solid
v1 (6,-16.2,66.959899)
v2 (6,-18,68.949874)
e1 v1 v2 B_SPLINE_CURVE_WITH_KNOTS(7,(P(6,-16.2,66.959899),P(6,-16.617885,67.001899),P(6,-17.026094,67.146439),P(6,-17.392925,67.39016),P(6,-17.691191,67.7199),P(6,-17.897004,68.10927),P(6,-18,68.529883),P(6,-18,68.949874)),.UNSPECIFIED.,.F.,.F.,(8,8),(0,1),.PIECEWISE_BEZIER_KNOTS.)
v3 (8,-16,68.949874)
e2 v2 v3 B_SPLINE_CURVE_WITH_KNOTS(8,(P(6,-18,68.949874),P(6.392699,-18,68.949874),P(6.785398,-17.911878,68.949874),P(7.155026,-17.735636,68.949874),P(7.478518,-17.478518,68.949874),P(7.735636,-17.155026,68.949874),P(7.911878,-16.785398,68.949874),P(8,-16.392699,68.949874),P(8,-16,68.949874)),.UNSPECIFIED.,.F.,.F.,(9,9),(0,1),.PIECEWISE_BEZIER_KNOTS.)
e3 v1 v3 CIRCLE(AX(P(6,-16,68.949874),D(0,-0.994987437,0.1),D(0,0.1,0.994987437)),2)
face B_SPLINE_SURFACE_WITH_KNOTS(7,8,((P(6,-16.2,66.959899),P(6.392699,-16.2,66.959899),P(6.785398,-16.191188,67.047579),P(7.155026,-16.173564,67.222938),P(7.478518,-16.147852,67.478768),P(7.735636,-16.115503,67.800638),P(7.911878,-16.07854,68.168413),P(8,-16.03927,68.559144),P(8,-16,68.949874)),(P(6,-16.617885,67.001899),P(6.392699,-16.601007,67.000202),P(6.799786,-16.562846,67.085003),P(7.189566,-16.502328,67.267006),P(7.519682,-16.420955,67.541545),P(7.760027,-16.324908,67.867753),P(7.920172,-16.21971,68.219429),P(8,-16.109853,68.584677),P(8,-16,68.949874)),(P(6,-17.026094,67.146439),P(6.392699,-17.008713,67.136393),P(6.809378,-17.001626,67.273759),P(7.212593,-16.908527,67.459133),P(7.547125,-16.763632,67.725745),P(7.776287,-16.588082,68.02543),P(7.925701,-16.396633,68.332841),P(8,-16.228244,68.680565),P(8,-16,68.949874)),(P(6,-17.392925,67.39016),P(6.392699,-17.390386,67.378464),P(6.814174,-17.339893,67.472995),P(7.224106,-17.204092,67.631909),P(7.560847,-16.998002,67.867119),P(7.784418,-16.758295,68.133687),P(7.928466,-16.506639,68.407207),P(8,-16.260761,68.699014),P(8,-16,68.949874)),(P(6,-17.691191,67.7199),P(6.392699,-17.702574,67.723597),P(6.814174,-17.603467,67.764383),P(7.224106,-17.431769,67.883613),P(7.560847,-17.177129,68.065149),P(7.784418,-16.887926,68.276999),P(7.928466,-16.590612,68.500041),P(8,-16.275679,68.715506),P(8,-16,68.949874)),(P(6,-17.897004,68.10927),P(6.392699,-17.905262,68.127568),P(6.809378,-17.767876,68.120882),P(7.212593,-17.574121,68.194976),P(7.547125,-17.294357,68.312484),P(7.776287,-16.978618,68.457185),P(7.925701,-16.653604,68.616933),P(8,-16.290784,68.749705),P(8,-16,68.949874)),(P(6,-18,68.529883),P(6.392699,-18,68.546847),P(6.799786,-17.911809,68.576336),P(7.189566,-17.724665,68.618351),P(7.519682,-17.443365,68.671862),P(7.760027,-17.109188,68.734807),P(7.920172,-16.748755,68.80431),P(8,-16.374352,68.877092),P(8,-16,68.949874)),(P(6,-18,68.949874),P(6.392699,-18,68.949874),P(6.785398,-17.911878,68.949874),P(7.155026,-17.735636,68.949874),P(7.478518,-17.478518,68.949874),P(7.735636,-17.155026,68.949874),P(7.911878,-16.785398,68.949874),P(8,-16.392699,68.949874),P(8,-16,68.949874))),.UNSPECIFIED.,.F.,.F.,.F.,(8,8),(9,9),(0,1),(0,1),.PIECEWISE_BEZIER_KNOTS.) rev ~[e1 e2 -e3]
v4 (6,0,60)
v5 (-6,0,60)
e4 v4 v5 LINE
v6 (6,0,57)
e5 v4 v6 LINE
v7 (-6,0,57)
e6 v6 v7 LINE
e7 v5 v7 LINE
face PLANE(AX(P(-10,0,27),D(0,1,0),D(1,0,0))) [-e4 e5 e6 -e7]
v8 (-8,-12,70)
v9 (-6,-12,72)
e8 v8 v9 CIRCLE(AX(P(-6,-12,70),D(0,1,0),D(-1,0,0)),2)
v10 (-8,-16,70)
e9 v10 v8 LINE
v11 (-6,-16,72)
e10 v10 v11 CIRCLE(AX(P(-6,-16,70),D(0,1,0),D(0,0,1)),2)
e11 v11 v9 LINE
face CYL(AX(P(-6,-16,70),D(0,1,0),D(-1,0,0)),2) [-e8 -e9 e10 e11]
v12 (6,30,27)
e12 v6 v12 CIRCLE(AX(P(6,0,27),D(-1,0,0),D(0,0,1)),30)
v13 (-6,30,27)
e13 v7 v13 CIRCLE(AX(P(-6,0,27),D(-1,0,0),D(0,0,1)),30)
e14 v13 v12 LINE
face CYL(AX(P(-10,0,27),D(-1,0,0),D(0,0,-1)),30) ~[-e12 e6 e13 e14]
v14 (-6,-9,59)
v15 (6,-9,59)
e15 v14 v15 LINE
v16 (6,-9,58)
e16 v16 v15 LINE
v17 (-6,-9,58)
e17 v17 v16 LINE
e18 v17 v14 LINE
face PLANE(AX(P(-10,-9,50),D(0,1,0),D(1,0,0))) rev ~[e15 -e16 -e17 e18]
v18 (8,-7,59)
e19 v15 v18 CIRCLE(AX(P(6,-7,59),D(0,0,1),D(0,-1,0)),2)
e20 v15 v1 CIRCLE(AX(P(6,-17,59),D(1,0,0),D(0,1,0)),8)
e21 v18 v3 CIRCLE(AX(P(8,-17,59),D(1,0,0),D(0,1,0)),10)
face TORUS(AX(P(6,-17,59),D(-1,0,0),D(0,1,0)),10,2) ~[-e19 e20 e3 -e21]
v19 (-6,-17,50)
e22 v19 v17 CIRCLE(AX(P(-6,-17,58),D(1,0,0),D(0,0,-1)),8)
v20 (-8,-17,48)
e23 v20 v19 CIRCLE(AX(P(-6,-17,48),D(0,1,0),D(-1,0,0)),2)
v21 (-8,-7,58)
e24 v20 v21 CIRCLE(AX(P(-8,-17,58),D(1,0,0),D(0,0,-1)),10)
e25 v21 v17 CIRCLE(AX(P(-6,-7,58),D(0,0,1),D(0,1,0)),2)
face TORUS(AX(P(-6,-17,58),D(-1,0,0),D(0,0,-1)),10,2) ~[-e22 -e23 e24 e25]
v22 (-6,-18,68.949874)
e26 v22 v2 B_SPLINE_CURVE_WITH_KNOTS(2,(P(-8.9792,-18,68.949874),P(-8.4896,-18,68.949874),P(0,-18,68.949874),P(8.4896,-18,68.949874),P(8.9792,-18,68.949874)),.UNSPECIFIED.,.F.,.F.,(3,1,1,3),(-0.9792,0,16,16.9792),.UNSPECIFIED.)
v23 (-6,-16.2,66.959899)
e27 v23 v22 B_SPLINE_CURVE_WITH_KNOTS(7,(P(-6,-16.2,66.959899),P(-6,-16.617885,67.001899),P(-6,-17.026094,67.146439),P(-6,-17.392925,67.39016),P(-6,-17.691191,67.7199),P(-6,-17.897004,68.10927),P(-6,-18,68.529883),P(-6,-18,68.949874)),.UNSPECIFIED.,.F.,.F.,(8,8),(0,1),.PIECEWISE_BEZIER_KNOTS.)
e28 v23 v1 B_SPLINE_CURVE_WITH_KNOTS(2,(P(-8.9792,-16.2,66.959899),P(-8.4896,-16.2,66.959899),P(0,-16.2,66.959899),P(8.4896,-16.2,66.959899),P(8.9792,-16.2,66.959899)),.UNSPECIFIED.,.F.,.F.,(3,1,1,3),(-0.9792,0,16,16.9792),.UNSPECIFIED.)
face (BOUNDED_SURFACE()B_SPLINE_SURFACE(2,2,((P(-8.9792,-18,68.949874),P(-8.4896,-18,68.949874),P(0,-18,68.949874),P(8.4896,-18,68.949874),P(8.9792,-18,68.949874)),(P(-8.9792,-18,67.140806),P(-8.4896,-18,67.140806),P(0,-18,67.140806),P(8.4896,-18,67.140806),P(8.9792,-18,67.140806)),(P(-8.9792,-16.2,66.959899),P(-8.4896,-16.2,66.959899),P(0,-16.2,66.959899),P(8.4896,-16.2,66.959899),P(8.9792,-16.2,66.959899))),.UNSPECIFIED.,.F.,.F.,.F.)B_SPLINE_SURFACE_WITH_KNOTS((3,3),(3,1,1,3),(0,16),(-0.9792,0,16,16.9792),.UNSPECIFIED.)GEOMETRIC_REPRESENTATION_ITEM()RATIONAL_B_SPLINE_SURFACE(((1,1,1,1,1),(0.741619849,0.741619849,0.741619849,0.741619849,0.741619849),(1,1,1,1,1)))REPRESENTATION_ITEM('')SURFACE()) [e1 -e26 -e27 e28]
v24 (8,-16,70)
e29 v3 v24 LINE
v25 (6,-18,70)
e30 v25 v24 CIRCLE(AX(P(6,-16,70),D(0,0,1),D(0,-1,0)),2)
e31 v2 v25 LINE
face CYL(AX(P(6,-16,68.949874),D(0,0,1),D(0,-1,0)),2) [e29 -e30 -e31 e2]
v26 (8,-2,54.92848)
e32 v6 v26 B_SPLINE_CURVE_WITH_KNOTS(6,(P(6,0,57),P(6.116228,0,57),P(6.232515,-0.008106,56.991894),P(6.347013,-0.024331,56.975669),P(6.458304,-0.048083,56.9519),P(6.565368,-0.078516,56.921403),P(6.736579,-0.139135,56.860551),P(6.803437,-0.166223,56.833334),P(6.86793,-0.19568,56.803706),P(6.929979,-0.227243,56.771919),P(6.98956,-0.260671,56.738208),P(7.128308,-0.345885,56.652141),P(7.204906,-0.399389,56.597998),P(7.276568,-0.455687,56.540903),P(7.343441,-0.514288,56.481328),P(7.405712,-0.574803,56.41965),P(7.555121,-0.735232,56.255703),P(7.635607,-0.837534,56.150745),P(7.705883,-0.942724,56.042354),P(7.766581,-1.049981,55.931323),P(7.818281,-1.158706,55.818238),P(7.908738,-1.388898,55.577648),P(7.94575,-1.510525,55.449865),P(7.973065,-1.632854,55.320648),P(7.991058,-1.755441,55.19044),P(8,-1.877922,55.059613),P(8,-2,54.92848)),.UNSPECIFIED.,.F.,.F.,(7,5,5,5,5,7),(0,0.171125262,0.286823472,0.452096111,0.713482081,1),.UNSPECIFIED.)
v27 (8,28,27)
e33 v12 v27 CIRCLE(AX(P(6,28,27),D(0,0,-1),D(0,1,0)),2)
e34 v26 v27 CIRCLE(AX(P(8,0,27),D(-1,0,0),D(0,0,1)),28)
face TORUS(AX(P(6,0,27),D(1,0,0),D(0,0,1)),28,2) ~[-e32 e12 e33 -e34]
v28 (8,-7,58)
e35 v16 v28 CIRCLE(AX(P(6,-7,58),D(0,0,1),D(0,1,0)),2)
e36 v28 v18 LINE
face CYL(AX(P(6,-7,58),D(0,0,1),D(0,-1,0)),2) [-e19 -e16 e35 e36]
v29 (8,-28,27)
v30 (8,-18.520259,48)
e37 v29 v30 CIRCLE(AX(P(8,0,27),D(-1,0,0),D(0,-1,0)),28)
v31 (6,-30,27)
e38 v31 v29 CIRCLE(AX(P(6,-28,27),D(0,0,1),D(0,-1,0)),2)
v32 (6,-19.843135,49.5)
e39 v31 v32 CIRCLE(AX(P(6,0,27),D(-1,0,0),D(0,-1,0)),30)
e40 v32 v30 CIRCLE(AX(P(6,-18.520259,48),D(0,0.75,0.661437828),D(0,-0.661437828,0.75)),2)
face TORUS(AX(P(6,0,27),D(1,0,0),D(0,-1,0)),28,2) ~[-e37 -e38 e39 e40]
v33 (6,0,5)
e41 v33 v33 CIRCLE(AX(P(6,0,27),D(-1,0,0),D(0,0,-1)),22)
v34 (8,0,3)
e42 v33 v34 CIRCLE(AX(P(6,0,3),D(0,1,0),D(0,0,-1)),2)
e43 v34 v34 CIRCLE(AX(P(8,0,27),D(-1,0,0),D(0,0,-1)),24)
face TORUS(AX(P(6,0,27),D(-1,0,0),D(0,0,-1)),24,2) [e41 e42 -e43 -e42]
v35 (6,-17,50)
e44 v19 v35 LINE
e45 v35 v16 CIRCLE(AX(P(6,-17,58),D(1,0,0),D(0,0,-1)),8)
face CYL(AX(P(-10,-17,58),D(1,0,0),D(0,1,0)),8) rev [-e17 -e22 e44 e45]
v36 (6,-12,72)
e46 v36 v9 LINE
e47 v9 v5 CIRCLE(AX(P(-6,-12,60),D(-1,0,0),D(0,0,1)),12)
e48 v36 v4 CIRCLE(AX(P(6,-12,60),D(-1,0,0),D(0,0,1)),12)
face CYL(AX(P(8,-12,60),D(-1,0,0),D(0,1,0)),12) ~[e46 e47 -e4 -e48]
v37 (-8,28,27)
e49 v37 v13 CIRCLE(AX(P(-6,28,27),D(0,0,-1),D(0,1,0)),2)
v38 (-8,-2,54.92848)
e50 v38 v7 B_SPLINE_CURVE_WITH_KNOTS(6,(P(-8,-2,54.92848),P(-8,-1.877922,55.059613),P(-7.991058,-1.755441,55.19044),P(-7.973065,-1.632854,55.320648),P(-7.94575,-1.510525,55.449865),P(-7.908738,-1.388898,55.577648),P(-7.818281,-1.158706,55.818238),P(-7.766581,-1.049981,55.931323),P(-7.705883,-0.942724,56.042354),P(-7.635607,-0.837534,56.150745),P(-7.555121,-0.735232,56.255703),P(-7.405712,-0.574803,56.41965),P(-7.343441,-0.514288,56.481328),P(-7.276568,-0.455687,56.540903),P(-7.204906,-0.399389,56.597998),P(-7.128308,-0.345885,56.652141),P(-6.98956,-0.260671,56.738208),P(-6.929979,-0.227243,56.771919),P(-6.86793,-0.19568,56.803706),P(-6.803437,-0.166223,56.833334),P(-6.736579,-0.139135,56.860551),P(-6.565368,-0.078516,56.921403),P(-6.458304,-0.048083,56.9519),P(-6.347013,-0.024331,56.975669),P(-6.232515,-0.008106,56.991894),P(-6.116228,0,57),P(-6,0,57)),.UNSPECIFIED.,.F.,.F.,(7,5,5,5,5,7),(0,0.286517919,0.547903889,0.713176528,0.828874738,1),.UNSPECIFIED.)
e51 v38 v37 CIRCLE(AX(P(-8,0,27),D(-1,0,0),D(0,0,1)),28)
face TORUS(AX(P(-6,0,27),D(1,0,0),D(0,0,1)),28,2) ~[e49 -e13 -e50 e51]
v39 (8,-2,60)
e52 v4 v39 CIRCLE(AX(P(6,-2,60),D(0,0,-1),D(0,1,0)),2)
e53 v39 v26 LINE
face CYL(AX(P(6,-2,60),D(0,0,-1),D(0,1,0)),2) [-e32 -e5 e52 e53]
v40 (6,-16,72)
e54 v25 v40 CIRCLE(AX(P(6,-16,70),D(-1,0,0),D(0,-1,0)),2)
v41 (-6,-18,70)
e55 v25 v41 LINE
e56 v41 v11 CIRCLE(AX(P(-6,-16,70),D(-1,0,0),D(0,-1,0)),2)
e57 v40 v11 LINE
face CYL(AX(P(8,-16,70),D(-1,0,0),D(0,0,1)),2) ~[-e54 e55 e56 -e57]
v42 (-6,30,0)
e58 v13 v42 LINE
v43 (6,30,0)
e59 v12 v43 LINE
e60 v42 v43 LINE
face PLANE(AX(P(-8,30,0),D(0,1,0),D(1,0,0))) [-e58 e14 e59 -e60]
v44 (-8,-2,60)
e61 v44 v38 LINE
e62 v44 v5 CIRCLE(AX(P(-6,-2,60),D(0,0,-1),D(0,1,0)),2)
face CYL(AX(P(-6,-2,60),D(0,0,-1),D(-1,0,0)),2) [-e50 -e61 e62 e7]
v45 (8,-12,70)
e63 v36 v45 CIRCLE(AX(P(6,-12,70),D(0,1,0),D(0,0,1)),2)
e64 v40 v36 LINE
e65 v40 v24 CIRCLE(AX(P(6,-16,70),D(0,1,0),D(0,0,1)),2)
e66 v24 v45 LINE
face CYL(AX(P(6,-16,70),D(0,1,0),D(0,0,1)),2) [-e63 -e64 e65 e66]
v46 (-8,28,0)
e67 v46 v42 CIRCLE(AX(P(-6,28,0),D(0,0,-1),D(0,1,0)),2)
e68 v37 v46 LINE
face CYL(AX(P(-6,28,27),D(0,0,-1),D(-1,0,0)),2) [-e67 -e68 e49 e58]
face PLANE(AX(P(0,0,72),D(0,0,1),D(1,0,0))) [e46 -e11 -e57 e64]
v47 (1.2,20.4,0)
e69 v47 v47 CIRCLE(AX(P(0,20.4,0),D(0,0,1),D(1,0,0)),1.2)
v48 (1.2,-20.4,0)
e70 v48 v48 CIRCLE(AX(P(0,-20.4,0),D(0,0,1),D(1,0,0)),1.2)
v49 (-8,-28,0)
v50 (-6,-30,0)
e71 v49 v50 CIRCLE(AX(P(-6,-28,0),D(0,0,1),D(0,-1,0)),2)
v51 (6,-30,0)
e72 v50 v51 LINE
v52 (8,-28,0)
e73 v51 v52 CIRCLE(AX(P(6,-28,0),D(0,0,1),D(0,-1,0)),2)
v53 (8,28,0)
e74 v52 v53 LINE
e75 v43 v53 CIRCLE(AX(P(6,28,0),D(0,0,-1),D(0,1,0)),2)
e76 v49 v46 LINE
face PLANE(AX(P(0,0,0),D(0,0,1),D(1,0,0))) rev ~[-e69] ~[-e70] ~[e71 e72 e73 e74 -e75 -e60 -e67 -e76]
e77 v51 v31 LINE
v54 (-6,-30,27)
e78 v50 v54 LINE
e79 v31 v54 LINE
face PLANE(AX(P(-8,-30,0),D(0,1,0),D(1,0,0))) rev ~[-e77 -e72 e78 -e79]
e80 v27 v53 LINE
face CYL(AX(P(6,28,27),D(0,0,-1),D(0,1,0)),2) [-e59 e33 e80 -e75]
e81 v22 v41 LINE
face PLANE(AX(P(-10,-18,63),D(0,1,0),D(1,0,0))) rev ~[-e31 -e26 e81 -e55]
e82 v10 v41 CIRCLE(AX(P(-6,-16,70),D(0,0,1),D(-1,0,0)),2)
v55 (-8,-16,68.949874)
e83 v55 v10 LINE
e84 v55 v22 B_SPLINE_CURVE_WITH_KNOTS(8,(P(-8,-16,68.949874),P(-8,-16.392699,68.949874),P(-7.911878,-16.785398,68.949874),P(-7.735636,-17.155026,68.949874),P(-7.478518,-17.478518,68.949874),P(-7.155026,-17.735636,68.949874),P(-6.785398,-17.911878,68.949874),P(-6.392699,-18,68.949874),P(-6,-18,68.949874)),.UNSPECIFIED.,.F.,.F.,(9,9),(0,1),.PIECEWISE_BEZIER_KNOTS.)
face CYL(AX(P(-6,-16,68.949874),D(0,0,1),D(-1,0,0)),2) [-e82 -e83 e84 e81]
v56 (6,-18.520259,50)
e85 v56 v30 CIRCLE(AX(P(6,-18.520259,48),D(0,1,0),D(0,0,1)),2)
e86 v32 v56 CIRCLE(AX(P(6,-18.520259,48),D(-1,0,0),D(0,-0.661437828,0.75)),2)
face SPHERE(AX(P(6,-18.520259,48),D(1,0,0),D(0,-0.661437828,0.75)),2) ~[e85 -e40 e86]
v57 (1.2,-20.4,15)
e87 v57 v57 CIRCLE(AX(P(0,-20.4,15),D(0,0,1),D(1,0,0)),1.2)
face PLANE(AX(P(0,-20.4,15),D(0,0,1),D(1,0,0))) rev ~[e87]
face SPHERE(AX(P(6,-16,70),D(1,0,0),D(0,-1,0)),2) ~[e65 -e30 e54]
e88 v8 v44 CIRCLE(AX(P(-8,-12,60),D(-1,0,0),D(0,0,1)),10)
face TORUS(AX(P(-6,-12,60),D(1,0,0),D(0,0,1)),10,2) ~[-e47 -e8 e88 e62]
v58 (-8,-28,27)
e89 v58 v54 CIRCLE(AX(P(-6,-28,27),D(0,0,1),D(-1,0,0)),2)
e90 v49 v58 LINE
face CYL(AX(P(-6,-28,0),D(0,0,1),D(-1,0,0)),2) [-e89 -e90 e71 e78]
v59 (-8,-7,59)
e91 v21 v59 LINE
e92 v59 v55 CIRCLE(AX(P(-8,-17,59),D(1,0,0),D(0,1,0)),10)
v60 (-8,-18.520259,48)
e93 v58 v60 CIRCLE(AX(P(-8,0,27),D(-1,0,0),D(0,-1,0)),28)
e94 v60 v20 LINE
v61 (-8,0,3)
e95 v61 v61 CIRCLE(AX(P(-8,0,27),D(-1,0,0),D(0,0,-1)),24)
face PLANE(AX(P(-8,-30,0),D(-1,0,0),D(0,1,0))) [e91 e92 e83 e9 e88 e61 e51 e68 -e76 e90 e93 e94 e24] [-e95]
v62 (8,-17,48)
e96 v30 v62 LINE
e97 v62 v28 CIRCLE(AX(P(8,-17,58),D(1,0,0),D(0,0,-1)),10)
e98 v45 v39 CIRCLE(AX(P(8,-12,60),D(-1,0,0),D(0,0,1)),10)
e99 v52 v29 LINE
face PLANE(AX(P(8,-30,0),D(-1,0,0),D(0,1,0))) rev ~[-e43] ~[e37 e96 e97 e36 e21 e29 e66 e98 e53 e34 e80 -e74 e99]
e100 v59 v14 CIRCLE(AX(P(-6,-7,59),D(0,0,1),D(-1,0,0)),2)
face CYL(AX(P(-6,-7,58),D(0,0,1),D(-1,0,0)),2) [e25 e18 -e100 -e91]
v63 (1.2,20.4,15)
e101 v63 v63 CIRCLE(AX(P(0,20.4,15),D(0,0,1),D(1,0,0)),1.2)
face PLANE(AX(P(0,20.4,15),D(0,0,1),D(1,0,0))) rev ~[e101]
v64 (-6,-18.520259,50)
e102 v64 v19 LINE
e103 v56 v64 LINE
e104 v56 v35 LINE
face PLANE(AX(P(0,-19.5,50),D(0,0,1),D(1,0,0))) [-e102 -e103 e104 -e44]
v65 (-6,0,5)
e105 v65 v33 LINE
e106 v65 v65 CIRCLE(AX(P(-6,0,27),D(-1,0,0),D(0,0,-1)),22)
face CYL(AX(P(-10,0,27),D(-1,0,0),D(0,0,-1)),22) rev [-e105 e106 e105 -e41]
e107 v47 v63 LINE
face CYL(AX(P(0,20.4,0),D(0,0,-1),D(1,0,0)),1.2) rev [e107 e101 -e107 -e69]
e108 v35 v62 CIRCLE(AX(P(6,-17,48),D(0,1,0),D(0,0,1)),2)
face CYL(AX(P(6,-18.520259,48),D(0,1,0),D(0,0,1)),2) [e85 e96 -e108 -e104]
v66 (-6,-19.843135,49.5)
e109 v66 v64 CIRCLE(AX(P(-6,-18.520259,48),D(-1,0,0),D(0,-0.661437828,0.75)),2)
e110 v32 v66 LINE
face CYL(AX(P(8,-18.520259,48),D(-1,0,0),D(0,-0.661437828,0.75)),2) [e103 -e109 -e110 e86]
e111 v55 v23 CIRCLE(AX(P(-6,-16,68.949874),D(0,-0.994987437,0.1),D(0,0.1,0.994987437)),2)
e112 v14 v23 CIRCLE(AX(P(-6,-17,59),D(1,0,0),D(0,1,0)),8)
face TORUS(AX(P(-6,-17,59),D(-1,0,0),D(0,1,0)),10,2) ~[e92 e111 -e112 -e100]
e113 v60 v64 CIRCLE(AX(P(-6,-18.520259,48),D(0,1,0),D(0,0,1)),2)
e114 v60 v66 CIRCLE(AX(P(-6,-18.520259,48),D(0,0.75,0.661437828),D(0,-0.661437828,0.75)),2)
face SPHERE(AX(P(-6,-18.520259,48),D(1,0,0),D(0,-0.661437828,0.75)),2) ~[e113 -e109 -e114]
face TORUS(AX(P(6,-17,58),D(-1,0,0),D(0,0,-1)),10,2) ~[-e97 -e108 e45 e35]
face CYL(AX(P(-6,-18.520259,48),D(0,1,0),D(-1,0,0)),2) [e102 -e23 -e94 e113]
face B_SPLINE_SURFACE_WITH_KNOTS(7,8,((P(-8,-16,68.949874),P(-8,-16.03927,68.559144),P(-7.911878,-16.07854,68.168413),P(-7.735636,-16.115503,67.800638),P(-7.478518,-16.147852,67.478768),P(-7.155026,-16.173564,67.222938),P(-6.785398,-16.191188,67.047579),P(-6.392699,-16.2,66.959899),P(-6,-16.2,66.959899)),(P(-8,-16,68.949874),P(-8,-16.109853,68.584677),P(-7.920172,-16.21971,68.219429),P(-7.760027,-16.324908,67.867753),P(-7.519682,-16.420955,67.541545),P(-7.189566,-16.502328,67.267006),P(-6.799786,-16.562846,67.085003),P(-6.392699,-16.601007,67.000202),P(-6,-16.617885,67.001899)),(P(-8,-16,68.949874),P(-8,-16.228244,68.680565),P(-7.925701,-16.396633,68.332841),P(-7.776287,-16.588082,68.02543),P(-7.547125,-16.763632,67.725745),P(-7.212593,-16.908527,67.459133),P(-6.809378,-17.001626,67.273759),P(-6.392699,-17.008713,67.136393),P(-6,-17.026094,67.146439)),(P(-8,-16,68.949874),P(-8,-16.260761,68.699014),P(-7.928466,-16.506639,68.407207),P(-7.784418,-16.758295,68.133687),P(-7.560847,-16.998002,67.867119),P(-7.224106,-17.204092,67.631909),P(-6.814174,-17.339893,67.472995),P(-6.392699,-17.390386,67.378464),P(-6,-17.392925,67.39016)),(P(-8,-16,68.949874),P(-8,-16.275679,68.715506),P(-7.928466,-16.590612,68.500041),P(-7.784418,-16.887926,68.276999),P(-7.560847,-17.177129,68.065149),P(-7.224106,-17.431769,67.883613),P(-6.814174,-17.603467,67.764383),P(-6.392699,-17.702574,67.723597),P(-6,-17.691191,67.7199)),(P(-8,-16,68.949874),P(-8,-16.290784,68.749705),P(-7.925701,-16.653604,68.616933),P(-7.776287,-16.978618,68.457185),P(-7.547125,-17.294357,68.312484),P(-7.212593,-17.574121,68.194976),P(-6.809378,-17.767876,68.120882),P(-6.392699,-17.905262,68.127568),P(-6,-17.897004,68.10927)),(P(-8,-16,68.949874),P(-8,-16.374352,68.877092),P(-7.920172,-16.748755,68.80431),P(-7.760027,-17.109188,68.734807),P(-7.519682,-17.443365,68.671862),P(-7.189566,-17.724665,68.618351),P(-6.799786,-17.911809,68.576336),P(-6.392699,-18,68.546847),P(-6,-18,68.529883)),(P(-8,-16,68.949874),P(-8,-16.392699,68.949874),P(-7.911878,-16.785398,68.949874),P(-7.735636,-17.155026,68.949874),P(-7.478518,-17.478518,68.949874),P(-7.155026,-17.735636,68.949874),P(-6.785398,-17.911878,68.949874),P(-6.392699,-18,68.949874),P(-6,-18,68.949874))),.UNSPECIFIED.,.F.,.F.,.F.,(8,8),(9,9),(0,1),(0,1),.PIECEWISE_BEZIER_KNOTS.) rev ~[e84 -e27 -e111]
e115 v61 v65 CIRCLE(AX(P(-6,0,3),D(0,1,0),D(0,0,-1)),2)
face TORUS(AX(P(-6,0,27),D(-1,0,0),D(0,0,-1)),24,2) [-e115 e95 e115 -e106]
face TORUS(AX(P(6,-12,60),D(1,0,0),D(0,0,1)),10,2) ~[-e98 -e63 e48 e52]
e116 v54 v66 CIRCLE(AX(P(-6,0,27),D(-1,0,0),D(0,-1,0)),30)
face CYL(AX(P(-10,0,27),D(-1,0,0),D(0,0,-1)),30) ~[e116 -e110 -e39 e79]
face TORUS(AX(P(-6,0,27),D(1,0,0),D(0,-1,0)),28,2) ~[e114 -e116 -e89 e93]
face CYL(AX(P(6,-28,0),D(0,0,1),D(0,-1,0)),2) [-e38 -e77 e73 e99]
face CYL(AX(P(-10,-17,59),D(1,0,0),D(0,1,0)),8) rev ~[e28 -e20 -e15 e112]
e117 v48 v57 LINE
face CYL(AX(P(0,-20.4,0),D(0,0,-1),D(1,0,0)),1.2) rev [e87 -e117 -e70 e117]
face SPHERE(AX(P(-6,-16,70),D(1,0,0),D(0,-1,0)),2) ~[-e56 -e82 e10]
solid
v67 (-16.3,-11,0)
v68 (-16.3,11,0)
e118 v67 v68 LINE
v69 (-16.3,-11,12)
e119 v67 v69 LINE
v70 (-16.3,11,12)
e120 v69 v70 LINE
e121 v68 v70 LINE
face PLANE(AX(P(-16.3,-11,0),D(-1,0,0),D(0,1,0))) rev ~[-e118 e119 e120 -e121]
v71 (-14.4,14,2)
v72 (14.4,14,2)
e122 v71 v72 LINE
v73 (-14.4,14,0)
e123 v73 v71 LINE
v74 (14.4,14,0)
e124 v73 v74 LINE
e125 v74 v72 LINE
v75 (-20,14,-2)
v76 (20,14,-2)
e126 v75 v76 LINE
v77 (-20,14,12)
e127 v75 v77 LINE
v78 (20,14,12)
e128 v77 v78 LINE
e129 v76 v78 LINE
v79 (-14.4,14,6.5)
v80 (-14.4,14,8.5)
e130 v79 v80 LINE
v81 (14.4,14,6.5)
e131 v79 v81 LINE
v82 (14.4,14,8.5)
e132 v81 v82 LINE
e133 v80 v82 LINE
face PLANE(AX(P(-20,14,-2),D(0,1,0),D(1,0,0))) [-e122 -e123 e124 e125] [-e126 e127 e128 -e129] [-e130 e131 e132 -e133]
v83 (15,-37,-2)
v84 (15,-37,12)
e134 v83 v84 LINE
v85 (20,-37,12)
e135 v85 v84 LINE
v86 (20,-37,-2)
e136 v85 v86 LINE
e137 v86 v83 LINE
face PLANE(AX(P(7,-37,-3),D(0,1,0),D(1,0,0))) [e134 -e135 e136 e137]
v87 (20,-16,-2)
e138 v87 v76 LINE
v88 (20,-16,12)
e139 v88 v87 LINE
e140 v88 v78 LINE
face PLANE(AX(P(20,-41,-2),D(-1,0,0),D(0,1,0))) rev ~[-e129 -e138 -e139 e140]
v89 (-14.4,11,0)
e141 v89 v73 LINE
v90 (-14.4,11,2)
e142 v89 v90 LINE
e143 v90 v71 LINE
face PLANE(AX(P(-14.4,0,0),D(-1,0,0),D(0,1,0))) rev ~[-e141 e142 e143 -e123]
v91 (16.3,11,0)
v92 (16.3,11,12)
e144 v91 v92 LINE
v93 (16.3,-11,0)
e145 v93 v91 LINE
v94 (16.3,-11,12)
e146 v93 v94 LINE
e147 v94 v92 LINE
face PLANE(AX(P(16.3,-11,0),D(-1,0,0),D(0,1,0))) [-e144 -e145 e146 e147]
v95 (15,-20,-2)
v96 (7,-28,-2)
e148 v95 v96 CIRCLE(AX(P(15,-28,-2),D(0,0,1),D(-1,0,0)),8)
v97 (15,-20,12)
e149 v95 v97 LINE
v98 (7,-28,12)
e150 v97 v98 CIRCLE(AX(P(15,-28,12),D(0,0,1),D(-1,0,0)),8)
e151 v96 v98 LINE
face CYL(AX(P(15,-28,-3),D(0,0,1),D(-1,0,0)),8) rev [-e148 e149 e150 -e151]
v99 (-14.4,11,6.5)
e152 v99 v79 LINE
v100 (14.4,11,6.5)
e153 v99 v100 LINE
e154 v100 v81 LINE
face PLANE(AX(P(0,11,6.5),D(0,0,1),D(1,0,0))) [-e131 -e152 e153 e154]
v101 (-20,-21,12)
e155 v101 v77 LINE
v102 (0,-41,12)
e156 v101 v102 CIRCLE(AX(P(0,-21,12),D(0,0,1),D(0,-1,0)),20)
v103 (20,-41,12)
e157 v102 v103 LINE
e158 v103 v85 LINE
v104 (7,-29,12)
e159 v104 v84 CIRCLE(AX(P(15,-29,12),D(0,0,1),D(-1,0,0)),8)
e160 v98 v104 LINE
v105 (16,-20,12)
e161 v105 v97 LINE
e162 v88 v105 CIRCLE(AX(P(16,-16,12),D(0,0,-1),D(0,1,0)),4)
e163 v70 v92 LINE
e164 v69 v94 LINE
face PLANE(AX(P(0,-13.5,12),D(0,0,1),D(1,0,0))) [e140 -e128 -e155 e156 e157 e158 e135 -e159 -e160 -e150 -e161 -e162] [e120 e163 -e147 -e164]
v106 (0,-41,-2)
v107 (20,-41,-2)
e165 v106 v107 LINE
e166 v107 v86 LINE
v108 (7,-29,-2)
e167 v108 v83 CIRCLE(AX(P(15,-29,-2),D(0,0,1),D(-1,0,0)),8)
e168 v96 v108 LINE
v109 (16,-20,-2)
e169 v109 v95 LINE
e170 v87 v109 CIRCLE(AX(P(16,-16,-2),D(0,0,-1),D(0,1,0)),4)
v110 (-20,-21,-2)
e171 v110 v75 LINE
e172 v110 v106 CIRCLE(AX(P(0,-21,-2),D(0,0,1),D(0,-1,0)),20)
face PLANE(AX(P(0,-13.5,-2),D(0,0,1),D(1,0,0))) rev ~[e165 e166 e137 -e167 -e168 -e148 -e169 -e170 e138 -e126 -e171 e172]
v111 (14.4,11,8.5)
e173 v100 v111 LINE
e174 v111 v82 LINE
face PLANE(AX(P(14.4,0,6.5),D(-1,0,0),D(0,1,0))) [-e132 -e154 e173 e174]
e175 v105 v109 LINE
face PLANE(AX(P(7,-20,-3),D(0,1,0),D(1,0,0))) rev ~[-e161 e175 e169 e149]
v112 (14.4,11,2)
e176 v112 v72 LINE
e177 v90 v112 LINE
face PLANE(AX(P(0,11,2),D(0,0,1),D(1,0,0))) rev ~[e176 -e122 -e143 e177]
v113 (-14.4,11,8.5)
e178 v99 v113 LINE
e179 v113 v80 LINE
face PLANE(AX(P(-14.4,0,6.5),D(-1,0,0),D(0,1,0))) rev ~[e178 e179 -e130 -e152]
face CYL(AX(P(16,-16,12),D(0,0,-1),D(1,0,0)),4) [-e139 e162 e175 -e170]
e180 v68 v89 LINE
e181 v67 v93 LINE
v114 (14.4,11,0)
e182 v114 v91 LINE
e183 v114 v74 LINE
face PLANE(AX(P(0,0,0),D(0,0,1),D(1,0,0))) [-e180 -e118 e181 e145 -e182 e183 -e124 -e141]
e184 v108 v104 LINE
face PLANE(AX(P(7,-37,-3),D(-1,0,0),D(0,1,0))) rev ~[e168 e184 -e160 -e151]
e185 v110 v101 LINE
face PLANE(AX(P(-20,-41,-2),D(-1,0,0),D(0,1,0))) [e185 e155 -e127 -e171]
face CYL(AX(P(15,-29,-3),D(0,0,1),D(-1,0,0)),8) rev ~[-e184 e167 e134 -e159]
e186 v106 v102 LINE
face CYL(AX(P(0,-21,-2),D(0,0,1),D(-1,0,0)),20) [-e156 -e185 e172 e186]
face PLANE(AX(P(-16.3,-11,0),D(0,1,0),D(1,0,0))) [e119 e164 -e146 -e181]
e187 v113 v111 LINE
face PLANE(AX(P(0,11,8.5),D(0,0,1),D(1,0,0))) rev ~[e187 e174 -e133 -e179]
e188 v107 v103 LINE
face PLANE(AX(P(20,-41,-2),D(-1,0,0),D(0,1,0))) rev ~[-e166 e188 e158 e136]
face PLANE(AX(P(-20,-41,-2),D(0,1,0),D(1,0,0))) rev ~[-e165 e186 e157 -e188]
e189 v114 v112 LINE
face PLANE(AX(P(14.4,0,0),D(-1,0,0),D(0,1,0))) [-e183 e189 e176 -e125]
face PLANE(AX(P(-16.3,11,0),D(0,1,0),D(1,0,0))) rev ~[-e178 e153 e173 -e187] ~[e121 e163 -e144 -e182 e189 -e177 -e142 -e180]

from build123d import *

# Parameters (mm, degrees)
BOX005_W          = 28.8
BOX005_H          = 22
BOX005_DEPTH      = 2
BOX006_W          = 28.8
BOX006_H          = 22
BOX006_DEPTH      = 2
BOX004_W          = 32.6
BOX004_H          = 22
BOX004_DEPTH      = 12
BOX_W             = 20
BOX_H             = 17
BOX_DEPTH         = 20
FILLET_R          = 8
BOX007_W          = 40
BOX007_H          = 55
BOX007_DEPTH      = 14
FILLET001_R       = 20
FILLET002_R       = 4
CYLINDER004_R     = 30
CYLINDER004_DEPTH = 20
BOX014_W          = 20
BOX014_H          = 30
BOX014_DEPTH      = 50
CYLINDER002_R     = 22
CYLINDER002_DEPTH = 20
CYLINDER001_R     = 1.2
CYLINDER001_DEPTH = 15
CYLINDER_R        = 1.2
CYLINDER_DEPTH    = 15
BOX012_W          = 20
BOX012_H          = 12
BOX012_DEPTH      = 10
BOX011_W          = 20
BOX011_H          = 21
BOX011_DEPTH      = 17
FILLET004_R       = 8
CYLINDER003_R     = 30
CYLINDER003_DEPTH = 20
BOX013_W          = 20
BOX013_H          = 20
BOX013_DEPTH      = 30
BOX010_W          = 16
BOX010_H          = 60
BOX010_DEPTH      = 72
FILLET005_R       = 12
FILLET006_R       = 2
FILLET007_R       = 2
FILLET008_R       = 2


with BuildPart() as cube005:
    # Box005 → Box005 (new body)
    with BuildSketch(Plane(origin=(-14.4, 0, 0), x_dir=(1, 0, 0), z_dir=(0, 0, 1))):
        with Locations((14.4, 11)):
            Rectangle(BOX005_W, BOX005_H)
    extrude(amount=BOX005_DEPTH)


with BuildPart() as cube006:
    # Box006 → Box006 (new body)
    with BuildSketch(Plane(origin=(-14.4, 0, 6.5), x_dir=(1, 0, 0), z_dir=(0, 0, 1))):
        with Locations((14.4, 11)):
            Rectangle(BOX006_W, BOX006_H)
    extrude(amount=BOX006_DEPTH)


with BuildPart() as hollows:
    # Box004 → Box004 (new body)
    with BuildSketch(Plane(origin=(-16.3, -11, 0), x_dir=(1, 0, 0), z_dir=(0, 0, 1))):
        with Locations((16.3, 11)):
            Rectangle(BOX004_W, BOX004_H)
    extrude(amount=BOX004_DEPTH)

    # Fusion: union Cube005, Cube006
    add(cube005.part)
    add(cube006.part)


with BuildPart() as fusion001:
    # Box → Box (new body)
    with BuildSketch(Plane(origin=(7, -37, -3), x_dir=(1, 0, 0), z_dir=(0, 0, 1))):
        with Locations((10, 8.5)):
            Rectangle(BOX_W, BOX_H)
    extrude(amount=BOX_DEPTH)

    # Fillet
    fillet_edges = [fusion001.edges().sort_by_distance(p)[0] for p in [
        (7, -37, 7),
        (7, -20, 7),
    ]]
    fillet(fillet_edges, radius=FILLET_R)

    # Fusion001: union Hollows
    add(hollows.part)


with BuildPart() as starakuka:
    # Box007 → Box007 (new body)
    with BuildSketch(Plane(origin=(-20, -41, -2), x_dir=(1, 0, 0), z_dir=(0, 0, 1))):
        with Locations((20, 27.5)):
            Rectangle(BOX007_W, BOX007_H)
    extrude(amount=BOX007_DEPTH)

    # Fillet001
    fillet001_edges = [starakuka.edges().sort_by_distance(p)[0] for p in [
        (-20, -41, 5),
    ]]
    fillet(fillet001_edges, radius=FILLET001_R)

    # Cut: cut Fusion001
    add(fusion001.part, mode=Mode.SUBTRACT)

    # Fillet002
    fillet002_edges = [starakuka.edges().sort_by_distance(p)[0] for p in [
        (20, -20, 5),
    ]]
    fillet(fillet002_edges, radius=FILLET002_R)


with BuildPart() as cylinder004:
    # Cylinder004 → Cylinder004 (new body)
    with BuildSketch(Plane(origin=(-10, 0, 27), x_dir=(0, 0, -1), z_dir=(1, 0, 0))):
        Circle(CYLINDER004_R)
    extrude(amount=CYLINDER004_DEPTH)


with BuildPart() as cut002:
    # Box014 → Box014 (new body)
    with BuildSketch(Plane(origin=(-10, 0, 27), x_dir=(1, 0, 0), z_dir=(0, 0, 1))):
        with Locations((10, 15)):
            Rectangle(BOX014_W, BOX014_H)
    extrude(amount=BOX014_DEPTH)

    # Cut002: cut Cylinder004
    add(cylinder004.part, mode=Mode.SUBTRACT)


with BuildPart() as cylinder:
    # Cylinder002 → Cylinder002 (new body)
    with BuildSketch(Plane(origin=(-10, 0, 27), x_dir=(0, 0, -1), z_dir=(1, 0, 0))):
        Circle(CYLINDER002_R)
    extrude(amount=CYLINDER002_DEPTH)


with BuildPart() as screw002:
    # Cylinder001 → Cylinder001 (new body)
    with BuildSketch(Plane(origin=(0, -20.4, 0), x_dir=(1, 0, 0), z_dir=(0, 0, 1))):
        Circle(CYLINDER001_R)
    extrude(amount=CYLINDER001_DEPTH)


with BuildPart() as screw001:
    # Cylinder → Cylinder (new body)
    with BuildSketch(Plane(origin=(0, 20.4, 0), x_dir=(1, 0, 0), z_dir=(0, 0, 1))):
        Circle(CYLINDER_R)
    extrude(amount=CYLINDER_DEPTH)


with BuildPart() as cube009:
    # Box012 → Box012 (new body)
    with BuildSketch(Plane(origin=(-10, -30, 63), x_dir=(1, 0, 0), z_dir=(0, 0, 1))):
        with Locations((10, 6)):
            Rectangle(BOX012_W, BOX012_H)
    extrude(amount=BOX012_DEPTH)


with BuildPart() as fillet004:
    # Box011 → Box011 (new body)
    with BuildSketch(Plane(origin=(-10, -30, 50), x_dir=(1, 0, 0), z_dir=(0, 0, 1))):
        with Locations((10, 10.5)):
            Rectangle(BOX011_W, BOX011_H)
    extrude(amount=BOX011_DEPTH)

    # Fillet004
    fillet004_edges = [fillet004.edges().sort_by_distance(p)[0] for p in [
        (0, -9, 50),
        (0, -9, 67),
    ]]
    fillet(fillet004_edges, radius=FILLET004_R)


with BuildPart() as cylinder003:
    # Cylinder003 → Cylinder003 (new body)
    with BuildSketch(Plane(origin=(-10, 0, 27), x_dir=(0, 0, -1), z_dir=(1, 0, 0))):
        Circle(CYLINDER003_R)
    extrude(amount=CYLINDER003_DEPTH)


with BuildPart() as hollows001:
    # Box013 → Box013 (new body)
    with BuildSketch(Plane(origin=(-10, -35, 27), x_dir=(1, 0, 0), z_dir=(0, 0, 1))):
        with Locations((10, 10)):
            Rectangle(BOX013_W, BOX013_H)
    extrude(amount=BOX013_DEPTH)

    # Cut001: cut Cylinder003
    add(cylinder003.part, mode=Mode.SUBTRACT)

    # Fusion002: union Cut002, Cylinder, Screw002, Screw001, Cube009, Fillet004
    add(cut002.part)
    add(cylinder.part)
    add(screw002.part)
    add(screw001.part)
    add(cube009.part)
    add(fillet004.part)


with BuildPart() as drzac:
    # Box010 → Box010 (new body)
    with BuildSketch(Plane(origin=(-8, -30, 0), x_dir=(1, 0, 0), z_dir=(0, 0, 1))):
        with Locations((8, 30)):
            Rectangle(BOX010_W, BOX010_H)
    extrude(amount=BOX010_DEPTH)

    # Cut003: cut Hollows001
    add(hollows001.part, mode=Mode.SUBTRACT)

    # Fillet005
    fillet005_edges = [drzac.edges().sort_by_distance(p)[0] for p in [
        (0, 0, 72),
    ]]
    fillet(fillet005_edges, radius=FILLET005_R)

    # Fillet006
    fillet006_edges = [drzac.edges().sort_by_distance(p)[0] for p in [
        (0, -18, 72),
        (0, -18, 67),
        (0, -19.26136, 50),
    ]]
    fillet(fillet006_edges, radius=FILLET006_R)

    # Fillet007
    fillet007_edges = [drzac.edges().sort_by_distance(p)[0] for p in [
        (-8, -27.343135, 39.343135),
        (-8, 21.213203, 48.213203),
        (8, 21.213203, 48.213203),
        (8, -27.343135, 39.343135),
    ]]
    fillet(fillet007_edges, radius=FILLET007_R)

    # Fillet008
    fillet008_edges = [drzac.edges().sort_by_distance(p)[0] for p in [
        (-8, 0, 49),
        (8, 0, 49),
    ]]
    fillet(fillet008_edges, radius=FILLET008_R)


solid = Compound([starakuka.part, drzac.part])
